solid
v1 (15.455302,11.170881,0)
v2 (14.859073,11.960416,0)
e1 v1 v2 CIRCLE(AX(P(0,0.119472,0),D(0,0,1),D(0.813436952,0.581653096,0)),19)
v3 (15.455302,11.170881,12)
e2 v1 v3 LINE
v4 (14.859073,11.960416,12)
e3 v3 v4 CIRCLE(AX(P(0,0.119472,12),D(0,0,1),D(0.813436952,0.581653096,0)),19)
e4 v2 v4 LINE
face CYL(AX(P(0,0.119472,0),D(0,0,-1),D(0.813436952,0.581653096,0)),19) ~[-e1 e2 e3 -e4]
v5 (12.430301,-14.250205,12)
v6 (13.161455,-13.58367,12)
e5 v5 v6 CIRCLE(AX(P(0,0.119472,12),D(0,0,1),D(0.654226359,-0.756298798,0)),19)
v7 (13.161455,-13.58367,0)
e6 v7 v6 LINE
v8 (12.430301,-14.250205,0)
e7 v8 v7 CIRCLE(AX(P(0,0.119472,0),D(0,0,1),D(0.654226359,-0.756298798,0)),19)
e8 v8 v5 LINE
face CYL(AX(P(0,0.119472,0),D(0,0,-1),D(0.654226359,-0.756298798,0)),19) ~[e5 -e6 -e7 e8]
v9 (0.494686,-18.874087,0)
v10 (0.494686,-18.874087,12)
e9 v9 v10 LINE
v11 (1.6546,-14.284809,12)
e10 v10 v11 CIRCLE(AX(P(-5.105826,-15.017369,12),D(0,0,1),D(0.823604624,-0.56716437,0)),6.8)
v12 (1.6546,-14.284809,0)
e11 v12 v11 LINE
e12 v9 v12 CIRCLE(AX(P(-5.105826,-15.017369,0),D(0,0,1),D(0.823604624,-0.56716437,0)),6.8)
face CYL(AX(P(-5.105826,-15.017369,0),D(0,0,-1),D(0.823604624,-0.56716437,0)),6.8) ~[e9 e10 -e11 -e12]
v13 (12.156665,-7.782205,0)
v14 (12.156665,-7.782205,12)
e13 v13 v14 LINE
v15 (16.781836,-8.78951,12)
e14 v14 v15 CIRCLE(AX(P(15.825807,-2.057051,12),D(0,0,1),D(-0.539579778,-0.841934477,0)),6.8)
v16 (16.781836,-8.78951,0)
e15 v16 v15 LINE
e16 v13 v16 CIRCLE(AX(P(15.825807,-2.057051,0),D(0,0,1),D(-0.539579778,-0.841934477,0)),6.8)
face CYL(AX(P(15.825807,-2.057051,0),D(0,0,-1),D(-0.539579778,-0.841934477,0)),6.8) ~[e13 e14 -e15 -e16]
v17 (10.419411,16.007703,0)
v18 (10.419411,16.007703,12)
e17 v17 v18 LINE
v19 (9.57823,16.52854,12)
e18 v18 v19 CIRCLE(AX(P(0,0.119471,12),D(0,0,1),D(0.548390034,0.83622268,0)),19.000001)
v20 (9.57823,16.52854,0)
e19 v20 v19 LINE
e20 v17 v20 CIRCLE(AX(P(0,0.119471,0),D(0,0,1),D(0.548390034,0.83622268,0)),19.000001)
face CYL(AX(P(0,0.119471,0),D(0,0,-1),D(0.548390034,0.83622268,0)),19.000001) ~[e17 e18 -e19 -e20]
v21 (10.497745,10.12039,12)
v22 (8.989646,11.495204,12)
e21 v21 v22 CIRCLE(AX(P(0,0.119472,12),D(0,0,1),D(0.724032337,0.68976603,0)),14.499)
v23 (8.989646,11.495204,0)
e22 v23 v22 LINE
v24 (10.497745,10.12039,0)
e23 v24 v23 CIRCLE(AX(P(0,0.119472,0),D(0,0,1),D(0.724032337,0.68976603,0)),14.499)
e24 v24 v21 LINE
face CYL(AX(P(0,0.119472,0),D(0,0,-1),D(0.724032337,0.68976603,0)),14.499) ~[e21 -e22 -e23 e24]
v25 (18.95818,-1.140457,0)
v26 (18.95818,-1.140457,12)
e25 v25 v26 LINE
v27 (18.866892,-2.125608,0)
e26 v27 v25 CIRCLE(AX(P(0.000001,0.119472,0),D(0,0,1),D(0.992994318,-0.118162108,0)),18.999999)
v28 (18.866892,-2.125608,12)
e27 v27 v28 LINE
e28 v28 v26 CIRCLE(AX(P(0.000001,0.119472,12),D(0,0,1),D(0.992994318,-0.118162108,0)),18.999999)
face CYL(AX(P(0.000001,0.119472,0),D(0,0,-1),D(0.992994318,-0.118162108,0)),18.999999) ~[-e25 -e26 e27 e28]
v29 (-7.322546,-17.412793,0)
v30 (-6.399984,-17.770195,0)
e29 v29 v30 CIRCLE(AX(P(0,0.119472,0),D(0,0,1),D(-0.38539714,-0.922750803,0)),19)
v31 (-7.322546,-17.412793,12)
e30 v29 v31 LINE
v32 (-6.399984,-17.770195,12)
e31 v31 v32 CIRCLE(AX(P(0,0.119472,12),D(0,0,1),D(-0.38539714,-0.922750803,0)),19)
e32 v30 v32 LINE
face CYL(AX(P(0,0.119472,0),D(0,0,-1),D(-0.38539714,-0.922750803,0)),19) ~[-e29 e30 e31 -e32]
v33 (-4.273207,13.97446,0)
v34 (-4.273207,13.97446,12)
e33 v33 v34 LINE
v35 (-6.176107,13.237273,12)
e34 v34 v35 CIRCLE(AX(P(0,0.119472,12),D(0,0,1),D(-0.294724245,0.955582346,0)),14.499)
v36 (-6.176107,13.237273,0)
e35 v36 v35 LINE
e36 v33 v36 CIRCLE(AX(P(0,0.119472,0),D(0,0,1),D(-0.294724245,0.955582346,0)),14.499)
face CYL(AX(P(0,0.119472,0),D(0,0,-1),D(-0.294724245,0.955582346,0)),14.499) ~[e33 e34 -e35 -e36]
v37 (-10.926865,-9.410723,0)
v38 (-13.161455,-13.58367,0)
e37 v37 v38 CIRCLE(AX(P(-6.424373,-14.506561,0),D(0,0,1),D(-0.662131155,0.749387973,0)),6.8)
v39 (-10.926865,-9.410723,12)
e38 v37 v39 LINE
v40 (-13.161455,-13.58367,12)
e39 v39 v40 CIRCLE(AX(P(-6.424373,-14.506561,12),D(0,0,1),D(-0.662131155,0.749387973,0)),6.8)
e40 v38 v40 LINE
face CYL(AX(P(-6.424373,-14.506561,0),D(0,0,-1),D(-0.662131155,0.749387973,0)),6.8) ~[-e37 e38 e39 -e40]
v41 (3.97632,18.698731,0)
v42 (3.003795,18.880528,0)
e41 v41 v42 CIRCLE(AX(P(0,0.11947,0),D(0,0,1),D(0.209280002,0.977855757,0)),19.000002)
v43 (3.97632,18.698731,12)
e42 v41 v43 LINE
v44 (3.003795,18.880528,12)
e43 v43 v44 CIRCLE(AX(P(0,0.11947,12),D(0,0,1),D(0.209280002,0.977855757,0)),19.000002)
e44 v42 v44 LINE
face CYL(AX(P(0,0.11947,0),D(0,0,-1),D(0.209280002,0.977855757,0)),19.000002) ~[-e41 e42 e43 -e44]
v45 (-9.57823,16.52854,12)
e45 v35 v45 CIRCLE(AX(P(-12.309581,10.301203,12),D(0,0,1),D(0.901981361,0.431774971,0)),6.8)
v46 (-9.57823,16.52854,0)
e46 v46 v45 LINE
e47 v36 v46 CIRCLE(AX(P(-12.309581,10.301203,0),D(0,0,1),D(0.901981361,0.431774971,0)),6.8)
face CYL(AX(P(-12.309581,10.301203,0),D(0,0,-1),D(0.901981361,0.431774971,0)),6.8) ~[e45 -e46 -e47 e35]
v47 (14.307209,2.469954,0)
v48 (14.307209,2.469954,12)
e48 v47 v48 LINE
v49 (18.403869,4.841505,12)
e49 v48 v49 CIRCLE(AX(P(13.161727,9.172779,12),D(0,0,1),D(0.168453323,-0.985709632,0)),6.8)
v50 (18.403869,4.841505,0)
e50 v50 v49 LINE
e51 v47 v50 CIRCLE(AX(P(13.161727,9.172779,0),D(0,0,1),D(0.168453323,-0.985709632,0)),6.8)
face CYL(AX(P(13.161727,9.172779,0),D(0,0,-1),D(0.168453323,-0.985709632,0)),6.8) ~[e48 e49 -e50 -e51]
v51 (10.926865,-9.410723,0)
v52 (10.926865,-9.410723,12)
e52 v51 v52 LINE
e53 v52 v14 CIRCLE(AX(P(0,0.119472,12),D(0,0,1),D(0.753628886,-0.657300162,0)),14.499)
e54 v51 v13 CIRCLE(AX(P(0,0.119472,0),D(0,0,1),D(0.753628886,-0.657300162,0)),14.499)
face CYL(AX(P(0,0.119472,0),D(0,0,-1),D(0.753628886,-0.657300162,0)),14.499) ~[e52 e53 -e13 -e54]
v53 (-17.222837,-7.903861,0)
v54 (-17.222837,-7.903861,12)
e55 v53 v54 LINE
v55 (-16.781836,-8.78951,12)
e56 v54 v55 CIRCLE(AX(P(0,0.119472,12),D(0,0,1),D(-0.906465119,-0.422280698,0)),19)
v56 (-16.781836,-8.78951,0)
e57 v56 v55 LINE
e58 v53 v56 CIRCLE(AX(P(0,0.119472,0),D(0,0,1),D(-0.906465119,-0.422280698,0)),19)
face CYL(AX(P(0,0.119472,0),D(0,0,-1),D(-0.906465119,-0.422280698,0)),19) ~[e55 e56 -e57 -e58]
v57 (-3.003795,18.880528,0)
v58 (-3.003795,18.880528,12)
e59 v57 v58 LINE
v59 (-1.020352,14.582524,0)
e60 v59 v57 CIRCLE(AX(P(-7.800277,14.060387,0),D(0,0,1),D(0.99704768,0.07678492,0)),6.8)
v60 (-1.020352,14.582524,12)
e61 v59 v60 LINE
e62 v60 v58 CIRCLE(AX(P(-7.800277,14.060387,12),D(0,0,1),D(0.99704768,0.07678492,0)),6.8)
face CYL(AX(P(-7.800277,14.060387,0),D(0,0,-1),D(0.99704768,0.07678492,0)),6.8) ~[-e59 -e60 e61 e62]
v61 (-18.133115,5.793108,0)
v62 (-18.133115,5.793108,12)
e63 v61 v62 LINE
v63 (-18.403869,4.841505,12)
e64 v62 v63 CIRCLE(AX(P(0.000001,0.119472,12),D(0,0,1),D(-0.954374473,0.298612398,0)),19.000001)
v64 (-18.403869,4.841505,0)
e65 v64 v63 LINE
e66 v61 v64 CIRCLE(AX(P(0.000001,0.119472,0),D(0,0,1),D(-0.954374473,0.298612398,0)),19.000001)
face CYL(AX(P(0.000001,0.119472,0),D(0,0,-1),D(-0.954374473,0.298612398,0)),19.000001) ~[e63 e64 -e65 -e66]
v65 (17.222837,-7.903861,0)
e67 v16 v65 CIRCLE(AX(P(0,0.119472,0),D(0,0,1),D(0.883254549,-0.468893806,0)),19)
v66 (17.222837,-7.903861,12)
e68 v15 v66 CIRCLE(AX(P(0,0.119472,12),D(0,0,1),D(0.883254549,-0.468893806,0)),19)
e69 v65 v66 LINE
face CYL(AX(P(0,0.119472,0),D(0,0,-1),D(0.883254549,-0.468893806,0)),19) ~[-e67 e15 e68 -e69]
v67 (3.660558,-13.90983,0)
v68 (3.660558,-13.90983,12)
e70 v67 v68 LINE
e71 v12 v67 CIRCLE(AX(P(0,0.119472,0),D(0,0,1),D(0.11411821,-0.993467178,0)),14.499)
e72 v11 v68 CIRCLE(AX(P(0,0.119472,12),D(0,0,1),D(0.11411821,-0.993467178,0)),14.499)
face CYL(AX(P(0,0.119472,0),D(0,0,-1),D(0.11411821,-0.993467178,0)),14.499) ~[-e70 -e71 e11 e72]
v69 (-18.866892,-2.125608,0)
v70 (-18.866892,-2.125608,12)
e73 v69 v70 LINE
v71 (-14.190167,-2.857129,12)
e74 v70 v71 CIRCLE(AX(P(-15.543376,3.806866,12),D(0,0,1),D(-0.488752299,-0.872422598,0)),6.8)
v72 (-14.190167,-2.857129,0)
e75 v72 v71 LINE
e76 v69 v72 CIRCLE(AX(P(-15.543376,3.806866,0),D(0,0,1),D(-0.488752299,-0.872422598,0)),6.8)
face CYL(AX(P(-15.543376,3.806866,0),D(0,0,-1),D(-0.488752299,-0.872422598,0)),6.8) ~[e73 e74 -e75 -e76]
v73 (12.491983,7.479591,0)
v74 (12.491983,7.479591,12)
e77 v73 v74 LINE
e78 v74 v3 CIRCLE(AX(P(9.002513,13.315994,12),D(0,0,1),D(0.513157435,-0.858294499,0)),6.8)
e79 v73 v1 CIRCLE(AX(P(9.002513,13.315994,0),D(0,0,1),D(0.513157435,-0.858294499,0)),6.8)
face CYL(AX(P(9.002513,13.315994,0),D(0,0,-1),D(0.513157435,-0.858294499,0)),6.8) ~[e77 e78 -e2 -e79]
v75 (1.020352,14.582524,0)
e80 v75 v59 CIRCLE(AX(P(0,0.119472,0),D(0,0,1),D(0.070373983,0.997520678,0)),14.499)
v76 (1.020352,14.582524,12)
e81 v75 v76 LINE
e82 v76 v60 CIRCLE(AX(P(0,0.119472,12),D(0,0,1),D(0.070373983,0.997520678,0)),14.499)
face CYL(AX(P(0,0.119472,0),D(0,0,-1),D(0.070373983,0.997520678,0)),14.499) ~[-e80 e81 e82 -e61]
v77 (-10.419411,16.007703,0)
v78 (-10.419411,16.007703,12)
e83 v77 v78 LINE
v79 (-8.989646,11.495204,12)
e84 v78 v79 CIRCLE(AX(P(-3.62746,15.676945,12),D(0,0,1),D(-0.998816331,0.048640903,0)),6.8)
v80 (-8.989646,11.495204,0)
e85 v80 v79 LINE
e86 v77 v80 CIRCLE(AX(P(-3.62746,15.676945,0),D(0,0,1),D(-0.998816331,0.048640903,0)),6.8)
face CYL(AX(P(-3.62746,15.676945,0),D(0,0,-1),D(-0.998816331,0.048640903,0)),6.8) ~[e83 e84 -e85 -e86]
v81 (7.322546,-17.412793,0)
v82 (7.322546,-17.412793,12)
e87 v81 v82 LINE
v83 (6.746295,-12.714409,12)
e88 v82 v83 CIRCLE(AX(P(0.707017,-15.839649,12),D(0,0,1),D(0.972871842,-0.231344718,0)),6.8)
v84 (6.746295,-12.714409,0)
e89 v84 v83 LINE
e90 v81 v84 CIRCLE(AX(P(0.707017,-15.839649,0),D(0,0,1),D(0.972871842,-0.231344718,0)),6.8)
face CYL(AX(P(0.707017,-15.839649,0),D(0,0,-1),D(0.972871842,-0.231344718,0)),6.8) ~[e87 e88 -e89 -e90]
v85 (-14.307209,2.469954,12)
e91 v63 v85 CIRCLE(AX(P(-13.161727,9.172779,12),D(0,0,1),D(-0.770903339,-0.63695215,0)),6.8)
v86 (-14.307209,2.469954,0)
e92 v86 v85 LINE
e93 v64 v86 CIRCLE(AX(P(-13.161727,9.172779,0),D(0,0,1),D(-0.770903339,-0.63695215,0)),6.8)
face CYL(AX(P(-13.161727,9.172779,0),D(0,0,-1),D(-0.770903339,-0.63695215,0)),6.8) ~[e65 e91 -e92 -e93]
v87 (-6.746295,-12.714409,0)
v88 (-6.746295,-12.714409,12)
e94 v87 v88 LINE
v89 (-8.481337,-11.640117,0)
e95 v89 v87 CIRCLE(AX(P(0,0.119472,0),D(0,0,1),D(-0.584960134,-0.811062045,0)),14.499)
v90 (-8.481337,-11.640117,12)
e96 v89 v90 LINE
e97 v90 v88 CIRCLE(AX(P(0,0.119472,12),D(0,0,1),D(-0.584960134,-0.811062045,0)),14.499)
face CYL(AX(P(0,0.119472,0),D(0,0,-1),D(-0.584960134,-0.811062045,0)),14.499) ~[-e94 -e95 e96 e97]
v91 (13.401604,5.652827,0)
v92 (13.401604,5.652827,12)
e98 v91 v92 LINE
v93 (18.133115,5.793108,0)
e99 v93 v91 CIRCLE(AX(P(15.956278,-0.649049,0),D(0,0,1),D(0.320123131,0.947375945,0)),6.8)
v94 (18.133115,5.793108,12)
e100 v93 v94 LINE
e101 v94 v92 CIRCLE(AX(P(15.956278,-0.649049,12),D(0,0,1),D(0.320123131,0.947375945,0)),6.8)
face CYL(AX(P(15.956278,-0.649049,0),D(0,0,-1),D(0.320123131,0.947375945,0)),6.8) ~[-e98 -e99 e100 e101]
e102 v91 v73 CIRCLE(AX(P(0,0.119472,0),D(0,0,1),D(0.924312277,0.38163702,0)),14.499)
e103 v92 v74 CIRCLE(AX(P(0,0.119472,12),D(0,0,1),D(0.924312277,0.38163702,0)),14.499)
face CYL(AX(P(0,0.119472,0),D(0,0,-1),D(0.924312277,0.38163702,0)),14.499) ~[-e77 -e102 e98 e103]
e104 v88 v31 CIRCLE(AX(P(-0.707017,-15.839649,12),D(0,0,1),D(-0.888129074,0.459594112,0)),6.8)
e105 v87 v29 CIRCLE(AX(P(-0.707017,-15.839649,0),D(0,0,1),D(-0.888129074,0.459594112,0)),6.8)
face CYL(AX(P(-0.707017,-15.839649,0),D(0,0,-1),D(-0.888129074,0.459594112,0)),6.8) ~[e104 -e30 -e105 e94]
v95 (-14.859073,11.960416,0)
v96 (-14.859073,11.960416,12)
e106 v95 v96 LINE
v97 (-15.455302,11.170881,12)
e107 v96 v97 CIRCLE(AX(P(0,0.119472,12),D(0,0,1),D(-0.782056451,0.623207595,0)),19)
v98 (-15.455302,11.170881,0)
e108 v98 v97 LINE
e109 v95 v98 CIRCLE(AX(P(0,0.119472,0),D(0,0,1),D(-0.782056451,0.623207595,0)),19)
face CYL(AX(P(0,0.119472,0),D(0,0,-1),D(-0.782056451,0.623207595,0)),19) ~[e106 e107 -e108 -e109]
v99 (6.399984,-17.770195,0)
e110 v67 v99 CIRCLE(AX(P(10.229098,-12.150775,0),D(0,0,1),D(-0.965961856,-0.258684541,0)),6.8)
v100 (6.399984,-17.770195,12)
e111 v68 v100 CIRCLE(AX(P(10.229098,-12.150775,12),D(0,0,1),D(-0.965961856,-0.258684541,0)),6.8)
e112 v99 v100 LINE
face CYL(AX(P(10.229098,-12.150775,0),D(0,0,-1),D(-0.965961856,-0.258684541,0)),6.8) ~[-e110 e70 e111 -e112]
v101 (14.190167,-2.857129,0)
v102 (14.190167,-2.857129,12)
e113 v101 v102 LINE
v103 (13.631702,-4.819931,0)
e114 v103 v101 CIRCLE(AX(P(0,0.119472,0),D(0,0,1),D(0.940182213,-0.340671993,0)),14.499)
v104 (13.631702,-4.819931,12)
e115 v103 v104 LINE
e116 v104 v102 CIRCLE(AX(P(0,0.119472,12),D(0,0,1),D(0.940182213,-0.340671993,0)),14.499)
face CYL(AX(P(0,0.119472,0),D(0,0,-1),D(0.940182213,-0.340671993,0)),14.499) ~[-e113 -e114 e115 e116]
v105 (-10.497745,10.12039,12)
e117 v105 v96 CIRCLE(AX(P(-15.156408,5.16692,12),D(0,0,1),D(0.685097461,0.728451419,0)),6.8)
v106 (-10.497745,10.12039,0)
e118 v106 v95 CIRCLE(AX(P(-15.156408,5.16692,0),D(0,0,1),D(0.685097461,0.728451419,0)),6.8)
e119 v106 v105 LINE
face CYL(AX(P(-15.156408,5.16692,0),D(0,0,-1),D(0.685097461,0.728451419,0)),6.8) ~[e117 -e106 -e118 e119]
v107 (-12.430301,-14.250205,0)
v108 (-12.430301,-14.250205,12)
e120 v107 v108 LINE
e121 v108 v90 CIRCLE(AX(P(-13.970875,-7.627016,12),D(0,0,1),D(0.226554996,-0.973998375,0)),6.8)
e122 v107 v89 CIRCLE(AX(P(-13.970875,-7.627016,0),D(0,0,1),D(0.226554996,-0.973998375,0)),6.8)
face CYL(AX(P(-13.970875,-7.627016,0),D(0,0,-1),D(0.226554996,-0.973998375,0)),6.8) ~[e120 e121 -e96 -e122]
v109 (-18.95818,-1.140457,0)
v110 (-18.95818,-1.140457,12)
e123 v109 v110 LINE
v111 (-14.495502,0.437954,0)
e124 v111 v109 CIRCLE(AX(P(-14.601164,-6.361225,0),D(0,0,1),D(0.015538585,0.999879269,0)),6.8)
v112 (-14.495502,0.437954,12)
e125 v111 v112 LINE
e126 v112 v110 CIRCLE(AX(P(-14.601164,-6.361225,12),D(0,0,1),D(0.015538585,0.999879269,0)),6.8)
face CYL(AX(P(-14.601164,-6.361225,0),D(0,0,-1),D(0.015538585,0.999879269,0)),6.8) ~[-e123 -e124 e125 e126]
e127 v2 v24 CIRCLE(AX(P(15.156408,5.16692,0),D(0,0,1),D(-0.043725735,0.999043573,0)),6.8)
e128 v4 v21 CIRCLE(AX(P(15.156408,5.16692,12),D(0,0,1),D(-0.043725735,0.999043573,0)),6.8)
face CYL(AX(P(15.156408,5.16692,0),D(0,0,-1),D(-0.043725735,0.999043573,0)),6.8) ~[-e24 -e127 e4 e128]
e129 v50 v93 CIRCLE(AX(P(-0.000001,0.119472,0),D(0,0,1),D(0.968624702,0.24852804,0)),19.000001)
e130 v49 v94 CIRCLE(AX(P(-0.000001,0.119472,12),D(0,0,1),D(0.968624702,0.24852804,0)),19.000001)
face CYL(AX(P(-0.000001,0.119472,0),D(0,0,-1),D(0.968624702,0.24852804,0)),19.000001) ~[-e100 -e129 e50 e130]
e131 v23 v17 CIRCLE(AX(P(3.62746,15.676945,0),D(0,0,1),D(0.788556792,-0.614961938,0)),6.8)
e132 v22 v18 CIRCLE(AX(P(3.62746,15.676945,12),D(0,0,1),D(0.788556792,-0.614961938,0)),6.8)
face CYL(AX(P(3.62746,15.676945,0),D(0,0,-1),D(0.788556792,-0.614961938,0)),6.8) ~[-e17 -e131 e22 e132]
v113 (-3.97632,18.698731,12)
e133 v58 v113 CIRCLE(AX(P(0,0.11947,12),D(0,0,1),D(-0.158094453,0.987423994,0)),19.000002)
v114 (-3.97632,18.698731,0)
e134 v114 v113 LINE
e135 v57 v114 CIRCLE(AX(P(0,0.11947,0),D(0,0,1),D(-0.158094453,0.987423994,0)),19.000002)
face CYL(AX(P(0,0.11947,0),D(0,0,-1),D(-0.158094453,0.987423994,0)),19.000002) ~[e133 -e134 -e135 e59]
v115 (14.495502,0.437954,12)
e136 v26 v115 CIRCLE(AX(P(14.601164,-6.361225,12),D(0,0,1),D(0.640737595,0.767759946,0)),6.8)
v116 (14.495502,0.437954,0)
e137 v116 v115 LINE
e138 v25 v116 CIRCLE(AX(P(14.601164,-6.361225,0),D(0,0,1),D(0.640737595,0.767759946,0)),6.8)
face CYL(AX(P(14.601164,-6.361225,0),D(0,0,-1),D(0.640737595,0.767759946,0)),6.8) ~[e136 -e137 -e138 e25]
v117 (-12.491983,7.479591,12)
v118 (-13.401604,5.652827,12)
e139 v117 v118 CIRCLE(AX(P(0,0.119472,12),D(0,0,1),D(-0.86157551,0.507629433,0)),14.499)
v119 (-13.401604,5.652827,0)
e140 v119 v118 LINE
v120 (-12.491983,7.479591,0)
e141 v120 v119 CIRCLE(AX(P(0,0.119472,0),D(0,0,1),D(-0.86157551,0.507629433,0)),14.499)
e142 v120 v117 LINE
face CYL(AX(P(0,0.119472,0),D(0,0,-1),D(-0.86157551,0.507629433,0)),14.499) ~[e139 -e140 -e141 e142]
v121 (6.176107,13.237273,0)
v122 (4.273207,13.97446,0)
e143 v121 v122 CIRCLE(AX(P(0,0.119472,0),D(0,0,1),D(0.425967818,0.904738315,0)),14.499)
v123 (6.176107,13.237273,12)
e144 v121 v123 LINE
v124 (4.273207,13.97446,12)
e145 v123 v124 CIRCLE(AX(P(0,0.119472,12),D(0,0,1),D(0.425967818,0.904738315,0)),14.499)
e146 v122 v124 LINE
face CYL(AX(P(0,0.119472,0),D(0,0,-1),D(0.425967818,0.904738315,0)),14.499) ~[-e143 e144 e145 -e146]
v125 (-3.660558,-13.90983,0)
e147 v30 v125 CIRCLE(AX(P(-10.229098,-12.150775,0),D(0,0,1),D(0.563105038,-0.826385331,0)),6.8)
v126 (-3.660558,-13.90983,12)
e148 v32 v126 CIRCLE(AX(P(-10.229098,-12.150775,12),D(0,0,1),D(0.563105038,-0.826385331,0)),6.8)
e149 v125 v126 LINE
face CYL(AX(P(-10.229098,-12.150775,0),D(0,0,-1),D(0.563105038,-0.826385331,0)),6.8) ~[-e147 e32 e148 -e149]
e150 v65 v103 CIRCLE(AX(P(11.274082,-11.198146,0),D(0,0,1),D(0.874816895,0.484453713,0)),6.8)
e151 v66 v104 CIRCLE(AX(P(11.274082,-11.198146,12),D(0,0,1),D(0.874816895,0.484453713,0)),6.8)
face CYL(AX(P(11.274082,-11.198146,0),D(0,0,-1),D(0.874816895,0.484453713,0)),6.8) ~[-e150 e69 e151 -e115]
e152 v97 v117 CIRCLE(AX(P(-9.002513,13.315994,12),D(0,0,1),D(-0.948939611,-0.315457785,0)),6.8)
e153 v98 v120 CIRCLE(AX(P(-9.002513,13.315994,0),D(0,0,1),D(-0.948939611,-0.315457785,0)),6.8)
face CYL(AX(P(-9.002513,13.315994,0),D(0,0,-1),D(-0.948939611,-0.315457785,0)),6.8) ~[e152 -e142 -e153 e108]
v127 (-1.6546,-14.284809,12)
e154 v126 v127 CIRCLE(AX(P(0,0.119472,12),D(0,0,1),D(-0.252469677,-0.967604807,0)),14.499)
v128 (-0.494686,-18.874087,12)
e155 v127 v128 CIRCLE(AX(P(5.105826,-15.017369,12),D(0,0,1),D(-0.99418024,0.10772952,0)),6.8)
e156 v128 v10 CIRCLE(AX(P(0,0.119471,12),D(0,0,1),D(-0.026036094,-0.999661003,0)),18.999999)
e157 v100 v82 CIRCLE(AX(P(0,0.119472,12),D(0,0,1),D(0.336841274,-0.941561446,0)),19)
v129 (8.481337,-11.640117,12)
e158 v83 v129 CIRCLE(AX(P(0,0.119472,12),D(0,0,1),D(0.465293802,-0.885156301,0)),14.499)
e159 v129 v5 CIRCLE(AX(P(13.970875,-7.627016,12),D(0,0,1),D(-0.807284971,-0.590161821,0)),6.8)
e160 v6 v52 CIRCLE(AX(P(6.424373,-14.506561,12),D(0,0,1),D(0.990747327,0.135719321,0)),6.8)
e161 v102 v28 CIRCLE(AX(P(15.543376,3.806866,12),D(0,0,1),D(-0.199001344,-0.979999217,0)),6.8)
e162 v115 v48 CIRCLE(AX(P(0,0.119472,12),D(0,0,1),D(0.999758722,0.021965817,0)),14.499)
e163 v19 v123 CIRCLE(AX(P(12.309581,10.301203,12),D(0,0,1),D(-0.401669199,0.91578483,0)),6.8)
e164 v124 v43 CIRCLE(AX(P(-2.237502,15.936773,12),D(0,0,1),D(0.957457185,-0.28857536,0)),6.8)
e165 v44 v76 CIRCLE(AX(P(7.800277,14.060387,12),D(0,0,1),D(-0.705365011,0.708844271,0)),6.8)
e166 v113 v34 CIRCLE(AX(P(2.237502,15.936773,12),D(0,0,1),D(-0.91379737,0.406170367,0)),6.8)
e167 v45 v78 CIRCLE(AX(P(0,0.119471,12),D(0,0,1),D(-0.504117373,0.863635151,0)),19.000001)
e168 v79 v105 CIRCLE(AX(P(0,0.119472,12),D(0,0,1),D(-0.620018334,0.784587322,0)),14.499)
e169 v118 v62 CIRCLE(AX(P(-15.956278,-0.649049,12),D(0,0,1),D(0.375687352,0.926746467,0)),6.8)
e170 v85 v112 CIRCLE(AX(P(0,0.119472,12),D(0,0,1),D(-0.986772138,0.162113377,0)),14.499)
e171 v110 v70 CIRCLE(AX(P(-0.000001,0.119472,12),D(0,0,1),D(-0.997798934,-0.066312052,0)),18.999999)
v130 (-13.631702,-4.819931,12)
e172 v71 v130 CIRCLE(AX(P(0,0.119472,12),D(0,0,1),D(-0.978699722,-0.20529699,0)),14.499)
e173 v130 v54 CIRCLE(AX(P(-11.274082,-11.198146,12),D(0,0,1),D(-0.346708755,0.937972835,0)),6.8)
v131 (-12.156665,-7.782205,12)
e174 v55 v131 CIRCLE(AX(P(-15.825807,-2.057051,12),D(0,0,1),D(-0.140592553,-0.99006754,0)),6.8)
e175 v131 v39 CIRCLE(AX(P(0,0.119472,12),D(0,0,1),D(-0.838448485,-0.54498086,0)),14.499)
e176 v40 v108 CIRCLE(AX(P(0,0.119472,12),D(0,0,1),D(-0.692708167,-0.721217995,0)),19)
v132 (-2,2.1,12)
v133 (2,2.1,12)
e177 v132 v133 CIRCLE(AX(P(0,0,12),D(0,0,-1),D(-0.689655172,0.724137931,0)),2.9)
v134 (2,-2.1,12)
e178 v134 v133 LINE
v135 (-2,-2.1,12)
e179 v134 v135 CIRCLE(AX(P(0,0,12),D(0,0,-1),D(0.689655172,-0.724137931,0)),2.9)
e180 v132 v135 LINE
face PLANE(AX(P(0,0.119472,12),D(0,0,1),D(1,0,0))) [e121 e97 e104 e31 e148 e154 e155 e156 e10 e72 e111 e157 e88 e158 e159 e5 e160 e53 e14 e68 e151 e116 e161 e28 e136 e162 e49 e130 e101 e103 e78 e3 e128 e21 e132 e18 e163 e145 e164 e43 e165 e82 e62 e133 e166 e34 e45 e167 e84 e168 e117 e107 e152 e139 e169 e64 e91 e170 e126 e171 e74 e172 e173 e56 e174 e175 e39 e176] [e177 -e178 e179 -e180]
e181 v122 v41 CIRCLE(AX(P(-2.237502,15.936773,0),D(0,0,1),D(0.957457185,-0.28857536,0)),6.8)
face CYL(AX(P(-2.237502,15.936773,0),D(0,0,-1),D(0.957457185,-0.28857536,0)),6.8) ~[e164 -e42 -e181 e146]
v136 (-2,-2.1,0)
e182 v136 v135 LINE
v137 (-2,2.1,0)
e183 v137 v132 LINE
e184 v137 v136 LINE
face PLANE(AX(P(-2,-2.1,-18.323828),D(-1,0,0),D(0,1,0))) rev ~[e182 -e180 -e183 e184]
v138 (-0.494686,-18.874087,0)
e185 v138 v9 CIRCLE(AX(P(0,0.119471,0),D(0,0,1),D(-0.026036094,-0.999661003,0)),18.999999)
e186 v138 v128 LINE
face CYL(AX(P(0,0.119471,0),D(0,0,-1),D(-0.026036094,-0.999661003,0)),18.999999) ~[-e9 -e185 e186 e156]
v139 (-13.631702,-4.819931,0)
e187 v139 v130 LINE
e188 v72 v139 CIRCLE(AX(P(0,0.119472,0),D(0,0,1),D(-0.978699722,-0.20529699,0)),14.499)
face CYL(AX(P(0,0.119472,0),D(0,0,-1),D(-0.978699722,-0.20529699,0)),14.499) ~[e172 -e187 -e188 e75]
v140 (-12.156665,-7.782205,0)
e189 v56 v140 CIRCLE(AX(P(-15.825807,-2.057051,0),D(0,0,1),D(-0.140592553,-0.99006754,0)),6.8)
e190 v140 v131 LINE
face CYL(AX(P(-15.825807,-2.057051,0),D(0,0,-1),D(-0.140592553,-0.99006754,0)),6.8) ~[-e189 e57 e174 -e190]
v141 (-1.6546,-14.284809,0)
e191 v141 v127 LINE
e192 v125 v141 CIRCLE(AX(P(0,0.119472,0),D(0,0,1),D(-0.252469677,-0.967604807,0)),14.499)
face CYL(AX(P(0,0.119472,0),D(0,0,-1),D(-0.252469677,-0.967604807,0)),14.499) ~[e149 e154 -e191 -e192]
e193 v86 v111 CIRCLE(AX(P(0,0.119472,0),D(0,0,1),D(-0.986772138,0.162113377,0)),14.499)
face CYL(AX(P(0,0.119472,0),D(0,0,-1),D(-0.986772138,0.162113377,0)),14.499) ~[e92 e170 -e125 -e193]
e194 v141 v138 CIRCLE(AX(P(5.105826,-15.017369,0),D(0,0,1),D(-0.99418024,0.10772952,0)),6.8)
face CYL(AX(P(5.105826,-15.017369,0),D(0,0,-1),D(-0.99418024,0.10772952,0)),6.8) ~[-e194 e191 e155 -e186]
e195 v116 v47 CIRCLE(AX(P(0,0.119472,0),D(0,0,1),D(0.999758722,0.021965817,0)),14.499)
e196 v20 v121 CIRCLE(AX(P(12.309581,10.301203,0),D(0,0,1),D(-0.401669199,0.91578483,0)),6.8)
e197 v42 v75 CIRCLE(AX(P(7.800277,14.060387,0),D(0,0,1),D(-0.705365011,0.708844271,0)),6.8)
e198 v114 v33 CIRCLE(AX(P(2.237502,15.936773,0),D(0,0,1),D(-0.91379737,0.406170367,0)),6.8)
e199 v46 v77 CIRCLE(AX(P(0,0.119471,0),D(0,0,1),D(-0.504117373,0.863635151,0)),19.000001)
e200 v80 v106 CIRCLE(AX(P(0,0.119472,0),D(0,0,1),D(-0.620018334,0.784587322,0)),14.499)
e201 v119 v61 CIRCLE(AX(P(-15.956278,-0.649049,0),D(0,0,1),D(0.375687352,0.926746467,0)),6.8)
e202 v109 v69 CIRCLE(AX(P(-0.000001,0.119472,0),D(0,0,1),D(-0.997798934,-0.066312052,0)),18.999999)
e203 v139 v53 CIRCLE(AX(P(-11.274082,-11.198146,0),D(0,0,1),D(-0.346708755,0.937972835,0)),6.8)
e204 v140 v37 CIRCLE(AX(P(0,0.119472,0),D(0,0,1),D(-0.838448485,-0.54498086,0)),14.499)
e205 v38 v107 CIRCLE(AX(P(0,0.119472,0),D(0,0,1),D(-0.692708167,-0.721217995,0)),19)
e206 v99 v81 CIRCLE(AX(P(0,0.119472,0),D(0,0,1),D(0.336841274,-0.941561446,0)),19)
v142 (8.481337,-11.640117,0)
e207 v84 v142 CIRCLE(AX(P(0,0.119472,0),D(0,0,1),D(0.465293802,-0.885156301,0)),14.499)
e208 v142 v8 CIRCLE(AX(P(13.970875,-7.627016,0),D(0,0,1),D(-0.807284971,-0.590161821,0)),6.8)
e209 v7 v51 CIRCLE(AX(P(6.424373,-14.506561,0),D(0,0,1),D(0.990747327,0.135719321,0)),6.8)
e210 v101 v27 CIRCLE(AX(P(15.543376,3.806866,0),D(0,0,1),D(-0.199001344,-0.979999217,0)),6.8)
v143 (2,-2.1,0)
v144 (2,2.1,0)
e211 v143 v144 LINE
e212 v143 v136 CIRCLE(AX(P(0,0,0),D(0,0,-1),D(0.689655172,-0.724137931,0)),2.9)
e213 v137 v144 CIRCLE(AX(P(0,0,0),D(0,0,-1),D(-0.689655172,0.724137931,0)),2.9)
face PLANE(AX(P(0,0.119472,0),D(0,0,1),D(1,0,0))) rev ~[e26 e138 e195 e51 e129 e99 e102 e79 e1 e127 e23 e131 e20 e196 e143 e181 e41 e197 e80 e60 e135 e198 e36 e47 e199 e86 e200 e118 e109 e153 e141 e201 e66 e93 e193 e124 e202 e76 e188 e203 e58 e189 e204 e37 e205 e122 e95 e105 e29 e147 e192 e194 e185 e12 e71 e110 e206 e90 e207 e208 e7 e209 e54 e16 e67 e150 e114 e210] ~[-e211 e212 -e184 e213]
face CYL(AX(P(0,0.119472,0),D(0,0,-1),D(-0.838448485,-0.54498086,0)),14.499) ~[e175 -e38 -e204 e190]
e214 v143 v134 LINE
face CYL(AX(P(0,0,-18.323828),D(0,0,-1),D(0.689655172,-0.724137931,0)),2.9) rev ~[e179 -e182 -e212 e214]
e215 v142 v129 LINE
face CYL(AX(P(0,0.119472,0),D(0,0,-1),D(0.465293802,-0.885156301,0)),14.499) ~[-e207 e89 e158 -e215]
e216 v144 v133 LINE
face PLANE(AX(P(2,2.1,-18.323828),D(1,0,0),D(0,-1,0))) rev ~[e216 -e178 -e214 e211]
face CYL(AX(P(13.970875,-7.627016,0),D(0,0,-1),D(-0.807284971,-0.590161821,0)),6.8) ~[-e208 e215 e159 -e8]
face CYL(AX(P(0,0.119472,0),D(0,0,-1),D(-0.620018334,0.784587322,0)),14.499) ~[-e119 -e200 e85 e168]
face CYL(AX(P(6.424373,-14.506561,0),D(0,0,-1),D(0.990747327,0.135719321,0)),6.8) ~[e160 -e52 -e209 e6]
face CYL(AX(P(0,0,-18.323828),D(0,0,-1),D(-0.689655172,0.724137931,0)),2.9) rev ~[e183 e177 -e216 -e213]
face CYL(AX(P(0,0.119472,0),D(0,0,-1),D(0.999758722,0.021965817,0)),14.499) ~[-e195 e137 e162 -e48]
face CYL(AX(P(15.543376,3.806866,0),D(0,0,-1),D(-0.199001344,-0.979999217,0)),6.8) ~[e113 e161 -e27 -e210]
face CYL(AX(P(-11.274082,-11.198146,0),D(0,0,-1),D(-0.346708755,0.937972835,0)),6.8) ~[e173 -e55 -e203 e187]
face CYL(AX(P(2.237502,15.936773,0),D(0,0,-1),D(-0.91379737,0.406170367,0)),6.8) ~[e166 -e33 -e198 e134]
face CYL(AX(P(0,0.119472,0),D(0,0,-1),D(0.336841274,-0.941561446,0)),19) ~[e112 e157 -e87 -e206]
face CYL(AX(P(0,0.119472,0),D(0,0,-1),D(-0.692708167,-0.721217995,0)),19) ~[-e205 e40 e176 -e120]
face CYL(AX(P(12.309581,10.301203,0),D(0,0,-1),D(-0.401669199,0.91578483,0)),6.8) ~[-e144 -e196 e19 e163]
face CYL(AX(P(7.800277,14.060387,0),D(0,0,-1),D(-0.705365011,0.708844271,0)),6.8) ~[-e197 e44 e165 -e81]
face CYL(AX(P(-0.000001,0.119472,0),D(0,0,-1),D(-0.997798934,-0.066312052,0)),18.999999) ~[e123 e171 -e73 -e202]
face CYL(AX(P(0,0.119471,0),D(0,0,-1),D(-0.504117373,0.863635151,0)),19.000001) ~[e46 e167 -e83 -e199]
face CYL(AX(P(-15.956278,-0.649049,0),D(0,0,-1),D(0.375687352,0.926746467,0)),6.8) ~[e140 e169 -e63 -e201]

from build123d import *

# Parameters (mm, degrees)
SALIENTE_EXTRUIR1_DEPTH    = 12
CORTAR_EXTRUIR1_DEPTH      = 30.323828441
CORTAR_EXTRUIR1_DEPTH_BACK = 30.323828441


with BuildPart() as part:
    # Croquis2 → Saliente-Extruir1 (new body)
    with BuildSketch(Plane.XY):
        with BuildLine():
            ThreePointArc((-18.403869346, 4.841504781), (-16.568558398, 3.287756261), (-14.307209233, 2.469953906))
            ThreePointArc((-14.307209233, 2.469953906), (-14.437149822, 1.457270995), (-14.495501716, 0.437954415))
            ThreePointArc((-14.495501716, 0.437954415), (-16.868617902, 0.049598518), (-18.958179734, -1.140456979))
            ThreePointArc((-18.958179734, -1.140456979), (-18.91894935, -1.633626778), (-18.86689205, -2.125607989))
            ThreePointArc((-18.86689205, -2.125607989), (-16.594236855, -2.91144455), (-14.190167272, -2.857128995))
            ThreePointArc((-14.190167272, -2.857128995), (-13.94551, -3.848367642), (-13.631701901, -4.819931181))
            ThreePointArc((-13.631701901, -4.819931181), (-15.70427651, -6.039330716), (-17.22283726, -7.903861216))
            ThreePointArc((-17.22283726, -7.903861216), (-17.008102536, -8.349556708), (-16.781836437, -8.789510259))
            ThreePointArc((-16.781836437, -8.789510259), (-14.378771672, -8.70130328), (-12.15666459, -7.782205431))
            ThreePointArc((-12.15666459, -7.782205431), (-11.570451778, -8.618127541), (-10.926865208, -9.410723))
            ThreePointArc((-10.926865208, -9.410723), (-12.418985555, -11.296479508), (-13.161455179, -13.583669836))
            ThreePointArc((-13.161455179, -13.583669836), (-12.800217229, -13.921697376), (-12.430300822, -14.250205101))
            ThreePointArc((-12.430300822, -14.250205101), (-10.221373699, -13.299867423), (-8.481336993, -11.640116539))
            ThreePointArc((-8.481336993, -11.640116539), (-7.63273993, -12.207826199), (-6.746294822, -12.714409169))
            ThreePointArc((-6.746294822, -12.714409169), (-7.456441785, -15.011840784), (-7.322545645, -17.412793212))
            ThreePointArc((-7.322545645, -17.412793212), (-6.863591658, -17.597500307), (-6.399984203, -17.770195419))
            ThreePointArc((-6.399984203, -17.770195419), (-4.68352257, -16.086075411), (-3.660557838, -13.909830045))
            ThreePointArc((-3.660557838, -13.909830045), (-2.664184259, -14.132654921), (-1.654599937, -14.284808564))
            ThreePointArc((-1.654599937, -14.284808564), (-1.486864235, -16.683634417), (-0.494685747, -18.874087015))
            ThreePointArc((-0.494685747, -18.874087015), (0, -18.880527949), (0.494685747, -18.874087015))
            ThreePointArc((0.494685747, -18.874087015), (1.486864235, -16.683634417), (1.654599937, -14.284808564))
            ThreePointArc((1.654599937, -14.284808564), (2.664184259, -14.132654921), (3.660557838, -13.909830045))
            ThreePointArc((3.660557838, -13.909830045), (4.68352257, -16.086075411), (6.399984203, -17.770195419))
            ThreePointArc((6.399984203, -17.770195419), (6.863591658, -17.597500307), (7.322545645, -17.412793212))
            ThreePointArc((7.322545645, -17.412793212), (7.456441785, -15.011840784), (6.746294822, -12.714409169))
            ThreePointArc((6.746294822, -12.714409169), (7.63273993, -12.207826199), (8.481336993, -11.640116539))
            ThreePointArc((8.481336993, -11.640116539), (10.221373699, -13.299867423), (12.430300822, -14.250205101))
            ThreePointArc((12.430300822, -14.250205101), (12.800217229, -13.921697376), (13.161455179, -13.583669836))
            ThreePointArc((13.161455179, -13.583669836), (12.418985555, -11.296479508), (10.926865208, -9.410723))
            ThreePointArc((10.926865208, -9.410723), (11.570451778, -8.618127541), (12.15666459, -7.782205431))
            ThreePointArc((12.15666459, -7.782205431), (14.378771672, -8.70130328), (16.781836437, -8.789510259))
            ThreePointArc((16.781836437, -8.789510259), (17.008102536, -8.349556708), (17.22283726, -7.903861216))
            ThreePointArc((17.22283726, -7.903861216), (15.70427651, -6.039330716), (13.631701901, -4.819931181))
            ThreePointArc((13.631701901, -4.819931181), (13.94551, -3.848367642), (14.190167272, -2.857128995))
            ThreePointArc((14.190167272, -2.857128995), (16.594236855, -2.91144455), (18.86689205, -2.125607989))
            ThreePointArc((18.86689205, -2.125607989), (18.91894935, -1.633626778), (18.958179734, -1.140456979))
            ThreePointArc((18.958179734, -1.140456979), (16.868617902, 0.049598518), (14.495501716, 0.437954415))
            ThreePointArc((14.495501716, 0.437954415), (14.437149822, 1.457270995), (14.307209233, 2.469953906))
            ThreePointArc((14.307209233, 2.469953906), (16.568558398, 3.287756261), (18.403869346, 4.841504781))
            ThreePointArc((18.403869346, 4.841504781), (18.27468722, 5.319068863), (18.133114985, 5.793107654))
            ThreePointArc((18.133114985, 5.793107654), (15.754758974, 6.147964559), (13.401603701, 5.652827203))
            ThreePointArc((13.401603701, 5.652827203), (12.978972561, 6.582232472), (12.491983309, 7.479591209))
            ThreePointArc((12.491983309, 7.479591209), (14.305204321, 9.059062734), (15.455302108, 11.170880865))
            ThreePointArc((15.455302108, 11.170880865), (15.162327318, 11.569530143), (14.859072577, 11.960416361))
            ThreePointArc((14.859072577, 11.960416361), (12.513132546, 11.432149282), (10.497744846, 10.120389716))
            ThreePointArc((10.497744846, 10.120389716), (9.767913137, 10.834362342), (8.989645818, 11.495203635))
            ThreePointArc((8.989645818, 11.495203635), (10.109853132, 13.623027949), (10.419410679, 16.007702951))
            ThreePointArc((10.419410679, 16.007702951), (10.002211095, 16.27359763), (9.578230081, 16.528539926))
            ThreePointArc((9.578230081, 16.528539926), (7.58153823, 15.188494259), (6.17610738, 13.237272882))
            ThreePointArc((6.17610738, 13.237272882), (5.237642918, 13.639386906), (4.273206846, 13.974460476))
            ThreePointArc((4.273206846, 13.974460476), (4.549110257, 16.363263115), (3.976320102, 18.698731414))
            ThreePointArc((3.976320102, 18.698731414), (3.491240839, 18.795960945), (3.003794538, 18.880527949))
            ThreePointArc((3.003794538, 18.880527949), (1.626015166, 16.909684287), (1.020352389, 14.582524357))
            ThreePointArc((1.020352389, 14.582524357), (0, 14.618472051), (-1.020352389, 14.582524357))
            ThreePointArc((-1.020352389, 14.582524357), (-1.626015166, 16.909684287), (-3.003794538, 18.880527949))
            ThreePointArc((-3.003794538, 18.880527949), (-3.491240839, 18.795960945), (-3.976320102, 18.698731414))
            ThreePointArc((-3.976320102, 18.698731414), (-4.549110257, 16.363263115), (-4.273206846, 13.974460476))
            ThreePointArc((-4.273206846, 13.974460476), (-5.237642918, 13.639386906), (-6.17610738, 13.237272882))
            ThreePointArc((-6.17610738, 13.237272882), (-7.58153823, 15.188494259), (-9.578230081, 16.528539926))
            ThreePointArc((-9.578230081, 16.528539926), (-10.002211095, 16.27359763), (-10.419410679, 16.007702951))
            ThreePointArc((-10.419410679, 16.007702951), (-10.109853132, 13.623027949), (-8.989645818, 11.495203635))
            ThreePointArc((-8.989645818, 11.495203635), (-9.767913137, 10.834362342), (-10.497744846, 10.120389716))
            ThreePointArc((-10.497744846, 10.120389716), (-12.513132546, 11.432149282), (-14.859072577, 11.960416361))
            ThreePointArc((-14.859072577, 11.960416361), (-15.162327318, 11.569530143), (-15.455302108, 11.170880865))
            ThreePointArc((-15.455302108, 11.170880865), (-14.305204321, 9.059062734), (-12.491983309, 7.479591209))
            ThreePointArc((-12.491983309, 7.479591209), (-12.978972561, 6.582232472), (-13.401603701, 5.652827203))
            ThreePointArc((-13.401603701, 5.652827203), (-15.754758974, 6.147964559), (-18.133114985, 5.793107654))
            ThreePointArc((-18.133114985, 5.793107654), (-18.27468722, 5.319068863), (-18.403869346, 4.841504781))
        make_face()
    extrude(amount=SALIENTE_EXTRUIR1_DEPTH)

    # Croquis3 → Cortar-Extruir1 (cut, two sides: drawn at the far end of the back side and taken through both)
    with BuildSketch(Plane.XY.offset(12).offset(-CORTAR_EXTRUIR1_DEPTH_BACK)):
        with BuildLine():
            Line((-2, -2.1), (-2, 2.1))
            ThreePointArc((-2, 2.1), (0, 2.9), (2, 2.1))
            Line((2, 2.1), (2, -2.1))
            ThreePointArc((2, -2.1), (0, -2.9), (-2, -2.1))
        make_face()
    extrude(amount=CORTAR_EXTRUIR1_DEPTH + CORTAR_EXTRUIR1_DEPTH_BACK, mode=Mode.SUBTRACT)


solid = part.part
